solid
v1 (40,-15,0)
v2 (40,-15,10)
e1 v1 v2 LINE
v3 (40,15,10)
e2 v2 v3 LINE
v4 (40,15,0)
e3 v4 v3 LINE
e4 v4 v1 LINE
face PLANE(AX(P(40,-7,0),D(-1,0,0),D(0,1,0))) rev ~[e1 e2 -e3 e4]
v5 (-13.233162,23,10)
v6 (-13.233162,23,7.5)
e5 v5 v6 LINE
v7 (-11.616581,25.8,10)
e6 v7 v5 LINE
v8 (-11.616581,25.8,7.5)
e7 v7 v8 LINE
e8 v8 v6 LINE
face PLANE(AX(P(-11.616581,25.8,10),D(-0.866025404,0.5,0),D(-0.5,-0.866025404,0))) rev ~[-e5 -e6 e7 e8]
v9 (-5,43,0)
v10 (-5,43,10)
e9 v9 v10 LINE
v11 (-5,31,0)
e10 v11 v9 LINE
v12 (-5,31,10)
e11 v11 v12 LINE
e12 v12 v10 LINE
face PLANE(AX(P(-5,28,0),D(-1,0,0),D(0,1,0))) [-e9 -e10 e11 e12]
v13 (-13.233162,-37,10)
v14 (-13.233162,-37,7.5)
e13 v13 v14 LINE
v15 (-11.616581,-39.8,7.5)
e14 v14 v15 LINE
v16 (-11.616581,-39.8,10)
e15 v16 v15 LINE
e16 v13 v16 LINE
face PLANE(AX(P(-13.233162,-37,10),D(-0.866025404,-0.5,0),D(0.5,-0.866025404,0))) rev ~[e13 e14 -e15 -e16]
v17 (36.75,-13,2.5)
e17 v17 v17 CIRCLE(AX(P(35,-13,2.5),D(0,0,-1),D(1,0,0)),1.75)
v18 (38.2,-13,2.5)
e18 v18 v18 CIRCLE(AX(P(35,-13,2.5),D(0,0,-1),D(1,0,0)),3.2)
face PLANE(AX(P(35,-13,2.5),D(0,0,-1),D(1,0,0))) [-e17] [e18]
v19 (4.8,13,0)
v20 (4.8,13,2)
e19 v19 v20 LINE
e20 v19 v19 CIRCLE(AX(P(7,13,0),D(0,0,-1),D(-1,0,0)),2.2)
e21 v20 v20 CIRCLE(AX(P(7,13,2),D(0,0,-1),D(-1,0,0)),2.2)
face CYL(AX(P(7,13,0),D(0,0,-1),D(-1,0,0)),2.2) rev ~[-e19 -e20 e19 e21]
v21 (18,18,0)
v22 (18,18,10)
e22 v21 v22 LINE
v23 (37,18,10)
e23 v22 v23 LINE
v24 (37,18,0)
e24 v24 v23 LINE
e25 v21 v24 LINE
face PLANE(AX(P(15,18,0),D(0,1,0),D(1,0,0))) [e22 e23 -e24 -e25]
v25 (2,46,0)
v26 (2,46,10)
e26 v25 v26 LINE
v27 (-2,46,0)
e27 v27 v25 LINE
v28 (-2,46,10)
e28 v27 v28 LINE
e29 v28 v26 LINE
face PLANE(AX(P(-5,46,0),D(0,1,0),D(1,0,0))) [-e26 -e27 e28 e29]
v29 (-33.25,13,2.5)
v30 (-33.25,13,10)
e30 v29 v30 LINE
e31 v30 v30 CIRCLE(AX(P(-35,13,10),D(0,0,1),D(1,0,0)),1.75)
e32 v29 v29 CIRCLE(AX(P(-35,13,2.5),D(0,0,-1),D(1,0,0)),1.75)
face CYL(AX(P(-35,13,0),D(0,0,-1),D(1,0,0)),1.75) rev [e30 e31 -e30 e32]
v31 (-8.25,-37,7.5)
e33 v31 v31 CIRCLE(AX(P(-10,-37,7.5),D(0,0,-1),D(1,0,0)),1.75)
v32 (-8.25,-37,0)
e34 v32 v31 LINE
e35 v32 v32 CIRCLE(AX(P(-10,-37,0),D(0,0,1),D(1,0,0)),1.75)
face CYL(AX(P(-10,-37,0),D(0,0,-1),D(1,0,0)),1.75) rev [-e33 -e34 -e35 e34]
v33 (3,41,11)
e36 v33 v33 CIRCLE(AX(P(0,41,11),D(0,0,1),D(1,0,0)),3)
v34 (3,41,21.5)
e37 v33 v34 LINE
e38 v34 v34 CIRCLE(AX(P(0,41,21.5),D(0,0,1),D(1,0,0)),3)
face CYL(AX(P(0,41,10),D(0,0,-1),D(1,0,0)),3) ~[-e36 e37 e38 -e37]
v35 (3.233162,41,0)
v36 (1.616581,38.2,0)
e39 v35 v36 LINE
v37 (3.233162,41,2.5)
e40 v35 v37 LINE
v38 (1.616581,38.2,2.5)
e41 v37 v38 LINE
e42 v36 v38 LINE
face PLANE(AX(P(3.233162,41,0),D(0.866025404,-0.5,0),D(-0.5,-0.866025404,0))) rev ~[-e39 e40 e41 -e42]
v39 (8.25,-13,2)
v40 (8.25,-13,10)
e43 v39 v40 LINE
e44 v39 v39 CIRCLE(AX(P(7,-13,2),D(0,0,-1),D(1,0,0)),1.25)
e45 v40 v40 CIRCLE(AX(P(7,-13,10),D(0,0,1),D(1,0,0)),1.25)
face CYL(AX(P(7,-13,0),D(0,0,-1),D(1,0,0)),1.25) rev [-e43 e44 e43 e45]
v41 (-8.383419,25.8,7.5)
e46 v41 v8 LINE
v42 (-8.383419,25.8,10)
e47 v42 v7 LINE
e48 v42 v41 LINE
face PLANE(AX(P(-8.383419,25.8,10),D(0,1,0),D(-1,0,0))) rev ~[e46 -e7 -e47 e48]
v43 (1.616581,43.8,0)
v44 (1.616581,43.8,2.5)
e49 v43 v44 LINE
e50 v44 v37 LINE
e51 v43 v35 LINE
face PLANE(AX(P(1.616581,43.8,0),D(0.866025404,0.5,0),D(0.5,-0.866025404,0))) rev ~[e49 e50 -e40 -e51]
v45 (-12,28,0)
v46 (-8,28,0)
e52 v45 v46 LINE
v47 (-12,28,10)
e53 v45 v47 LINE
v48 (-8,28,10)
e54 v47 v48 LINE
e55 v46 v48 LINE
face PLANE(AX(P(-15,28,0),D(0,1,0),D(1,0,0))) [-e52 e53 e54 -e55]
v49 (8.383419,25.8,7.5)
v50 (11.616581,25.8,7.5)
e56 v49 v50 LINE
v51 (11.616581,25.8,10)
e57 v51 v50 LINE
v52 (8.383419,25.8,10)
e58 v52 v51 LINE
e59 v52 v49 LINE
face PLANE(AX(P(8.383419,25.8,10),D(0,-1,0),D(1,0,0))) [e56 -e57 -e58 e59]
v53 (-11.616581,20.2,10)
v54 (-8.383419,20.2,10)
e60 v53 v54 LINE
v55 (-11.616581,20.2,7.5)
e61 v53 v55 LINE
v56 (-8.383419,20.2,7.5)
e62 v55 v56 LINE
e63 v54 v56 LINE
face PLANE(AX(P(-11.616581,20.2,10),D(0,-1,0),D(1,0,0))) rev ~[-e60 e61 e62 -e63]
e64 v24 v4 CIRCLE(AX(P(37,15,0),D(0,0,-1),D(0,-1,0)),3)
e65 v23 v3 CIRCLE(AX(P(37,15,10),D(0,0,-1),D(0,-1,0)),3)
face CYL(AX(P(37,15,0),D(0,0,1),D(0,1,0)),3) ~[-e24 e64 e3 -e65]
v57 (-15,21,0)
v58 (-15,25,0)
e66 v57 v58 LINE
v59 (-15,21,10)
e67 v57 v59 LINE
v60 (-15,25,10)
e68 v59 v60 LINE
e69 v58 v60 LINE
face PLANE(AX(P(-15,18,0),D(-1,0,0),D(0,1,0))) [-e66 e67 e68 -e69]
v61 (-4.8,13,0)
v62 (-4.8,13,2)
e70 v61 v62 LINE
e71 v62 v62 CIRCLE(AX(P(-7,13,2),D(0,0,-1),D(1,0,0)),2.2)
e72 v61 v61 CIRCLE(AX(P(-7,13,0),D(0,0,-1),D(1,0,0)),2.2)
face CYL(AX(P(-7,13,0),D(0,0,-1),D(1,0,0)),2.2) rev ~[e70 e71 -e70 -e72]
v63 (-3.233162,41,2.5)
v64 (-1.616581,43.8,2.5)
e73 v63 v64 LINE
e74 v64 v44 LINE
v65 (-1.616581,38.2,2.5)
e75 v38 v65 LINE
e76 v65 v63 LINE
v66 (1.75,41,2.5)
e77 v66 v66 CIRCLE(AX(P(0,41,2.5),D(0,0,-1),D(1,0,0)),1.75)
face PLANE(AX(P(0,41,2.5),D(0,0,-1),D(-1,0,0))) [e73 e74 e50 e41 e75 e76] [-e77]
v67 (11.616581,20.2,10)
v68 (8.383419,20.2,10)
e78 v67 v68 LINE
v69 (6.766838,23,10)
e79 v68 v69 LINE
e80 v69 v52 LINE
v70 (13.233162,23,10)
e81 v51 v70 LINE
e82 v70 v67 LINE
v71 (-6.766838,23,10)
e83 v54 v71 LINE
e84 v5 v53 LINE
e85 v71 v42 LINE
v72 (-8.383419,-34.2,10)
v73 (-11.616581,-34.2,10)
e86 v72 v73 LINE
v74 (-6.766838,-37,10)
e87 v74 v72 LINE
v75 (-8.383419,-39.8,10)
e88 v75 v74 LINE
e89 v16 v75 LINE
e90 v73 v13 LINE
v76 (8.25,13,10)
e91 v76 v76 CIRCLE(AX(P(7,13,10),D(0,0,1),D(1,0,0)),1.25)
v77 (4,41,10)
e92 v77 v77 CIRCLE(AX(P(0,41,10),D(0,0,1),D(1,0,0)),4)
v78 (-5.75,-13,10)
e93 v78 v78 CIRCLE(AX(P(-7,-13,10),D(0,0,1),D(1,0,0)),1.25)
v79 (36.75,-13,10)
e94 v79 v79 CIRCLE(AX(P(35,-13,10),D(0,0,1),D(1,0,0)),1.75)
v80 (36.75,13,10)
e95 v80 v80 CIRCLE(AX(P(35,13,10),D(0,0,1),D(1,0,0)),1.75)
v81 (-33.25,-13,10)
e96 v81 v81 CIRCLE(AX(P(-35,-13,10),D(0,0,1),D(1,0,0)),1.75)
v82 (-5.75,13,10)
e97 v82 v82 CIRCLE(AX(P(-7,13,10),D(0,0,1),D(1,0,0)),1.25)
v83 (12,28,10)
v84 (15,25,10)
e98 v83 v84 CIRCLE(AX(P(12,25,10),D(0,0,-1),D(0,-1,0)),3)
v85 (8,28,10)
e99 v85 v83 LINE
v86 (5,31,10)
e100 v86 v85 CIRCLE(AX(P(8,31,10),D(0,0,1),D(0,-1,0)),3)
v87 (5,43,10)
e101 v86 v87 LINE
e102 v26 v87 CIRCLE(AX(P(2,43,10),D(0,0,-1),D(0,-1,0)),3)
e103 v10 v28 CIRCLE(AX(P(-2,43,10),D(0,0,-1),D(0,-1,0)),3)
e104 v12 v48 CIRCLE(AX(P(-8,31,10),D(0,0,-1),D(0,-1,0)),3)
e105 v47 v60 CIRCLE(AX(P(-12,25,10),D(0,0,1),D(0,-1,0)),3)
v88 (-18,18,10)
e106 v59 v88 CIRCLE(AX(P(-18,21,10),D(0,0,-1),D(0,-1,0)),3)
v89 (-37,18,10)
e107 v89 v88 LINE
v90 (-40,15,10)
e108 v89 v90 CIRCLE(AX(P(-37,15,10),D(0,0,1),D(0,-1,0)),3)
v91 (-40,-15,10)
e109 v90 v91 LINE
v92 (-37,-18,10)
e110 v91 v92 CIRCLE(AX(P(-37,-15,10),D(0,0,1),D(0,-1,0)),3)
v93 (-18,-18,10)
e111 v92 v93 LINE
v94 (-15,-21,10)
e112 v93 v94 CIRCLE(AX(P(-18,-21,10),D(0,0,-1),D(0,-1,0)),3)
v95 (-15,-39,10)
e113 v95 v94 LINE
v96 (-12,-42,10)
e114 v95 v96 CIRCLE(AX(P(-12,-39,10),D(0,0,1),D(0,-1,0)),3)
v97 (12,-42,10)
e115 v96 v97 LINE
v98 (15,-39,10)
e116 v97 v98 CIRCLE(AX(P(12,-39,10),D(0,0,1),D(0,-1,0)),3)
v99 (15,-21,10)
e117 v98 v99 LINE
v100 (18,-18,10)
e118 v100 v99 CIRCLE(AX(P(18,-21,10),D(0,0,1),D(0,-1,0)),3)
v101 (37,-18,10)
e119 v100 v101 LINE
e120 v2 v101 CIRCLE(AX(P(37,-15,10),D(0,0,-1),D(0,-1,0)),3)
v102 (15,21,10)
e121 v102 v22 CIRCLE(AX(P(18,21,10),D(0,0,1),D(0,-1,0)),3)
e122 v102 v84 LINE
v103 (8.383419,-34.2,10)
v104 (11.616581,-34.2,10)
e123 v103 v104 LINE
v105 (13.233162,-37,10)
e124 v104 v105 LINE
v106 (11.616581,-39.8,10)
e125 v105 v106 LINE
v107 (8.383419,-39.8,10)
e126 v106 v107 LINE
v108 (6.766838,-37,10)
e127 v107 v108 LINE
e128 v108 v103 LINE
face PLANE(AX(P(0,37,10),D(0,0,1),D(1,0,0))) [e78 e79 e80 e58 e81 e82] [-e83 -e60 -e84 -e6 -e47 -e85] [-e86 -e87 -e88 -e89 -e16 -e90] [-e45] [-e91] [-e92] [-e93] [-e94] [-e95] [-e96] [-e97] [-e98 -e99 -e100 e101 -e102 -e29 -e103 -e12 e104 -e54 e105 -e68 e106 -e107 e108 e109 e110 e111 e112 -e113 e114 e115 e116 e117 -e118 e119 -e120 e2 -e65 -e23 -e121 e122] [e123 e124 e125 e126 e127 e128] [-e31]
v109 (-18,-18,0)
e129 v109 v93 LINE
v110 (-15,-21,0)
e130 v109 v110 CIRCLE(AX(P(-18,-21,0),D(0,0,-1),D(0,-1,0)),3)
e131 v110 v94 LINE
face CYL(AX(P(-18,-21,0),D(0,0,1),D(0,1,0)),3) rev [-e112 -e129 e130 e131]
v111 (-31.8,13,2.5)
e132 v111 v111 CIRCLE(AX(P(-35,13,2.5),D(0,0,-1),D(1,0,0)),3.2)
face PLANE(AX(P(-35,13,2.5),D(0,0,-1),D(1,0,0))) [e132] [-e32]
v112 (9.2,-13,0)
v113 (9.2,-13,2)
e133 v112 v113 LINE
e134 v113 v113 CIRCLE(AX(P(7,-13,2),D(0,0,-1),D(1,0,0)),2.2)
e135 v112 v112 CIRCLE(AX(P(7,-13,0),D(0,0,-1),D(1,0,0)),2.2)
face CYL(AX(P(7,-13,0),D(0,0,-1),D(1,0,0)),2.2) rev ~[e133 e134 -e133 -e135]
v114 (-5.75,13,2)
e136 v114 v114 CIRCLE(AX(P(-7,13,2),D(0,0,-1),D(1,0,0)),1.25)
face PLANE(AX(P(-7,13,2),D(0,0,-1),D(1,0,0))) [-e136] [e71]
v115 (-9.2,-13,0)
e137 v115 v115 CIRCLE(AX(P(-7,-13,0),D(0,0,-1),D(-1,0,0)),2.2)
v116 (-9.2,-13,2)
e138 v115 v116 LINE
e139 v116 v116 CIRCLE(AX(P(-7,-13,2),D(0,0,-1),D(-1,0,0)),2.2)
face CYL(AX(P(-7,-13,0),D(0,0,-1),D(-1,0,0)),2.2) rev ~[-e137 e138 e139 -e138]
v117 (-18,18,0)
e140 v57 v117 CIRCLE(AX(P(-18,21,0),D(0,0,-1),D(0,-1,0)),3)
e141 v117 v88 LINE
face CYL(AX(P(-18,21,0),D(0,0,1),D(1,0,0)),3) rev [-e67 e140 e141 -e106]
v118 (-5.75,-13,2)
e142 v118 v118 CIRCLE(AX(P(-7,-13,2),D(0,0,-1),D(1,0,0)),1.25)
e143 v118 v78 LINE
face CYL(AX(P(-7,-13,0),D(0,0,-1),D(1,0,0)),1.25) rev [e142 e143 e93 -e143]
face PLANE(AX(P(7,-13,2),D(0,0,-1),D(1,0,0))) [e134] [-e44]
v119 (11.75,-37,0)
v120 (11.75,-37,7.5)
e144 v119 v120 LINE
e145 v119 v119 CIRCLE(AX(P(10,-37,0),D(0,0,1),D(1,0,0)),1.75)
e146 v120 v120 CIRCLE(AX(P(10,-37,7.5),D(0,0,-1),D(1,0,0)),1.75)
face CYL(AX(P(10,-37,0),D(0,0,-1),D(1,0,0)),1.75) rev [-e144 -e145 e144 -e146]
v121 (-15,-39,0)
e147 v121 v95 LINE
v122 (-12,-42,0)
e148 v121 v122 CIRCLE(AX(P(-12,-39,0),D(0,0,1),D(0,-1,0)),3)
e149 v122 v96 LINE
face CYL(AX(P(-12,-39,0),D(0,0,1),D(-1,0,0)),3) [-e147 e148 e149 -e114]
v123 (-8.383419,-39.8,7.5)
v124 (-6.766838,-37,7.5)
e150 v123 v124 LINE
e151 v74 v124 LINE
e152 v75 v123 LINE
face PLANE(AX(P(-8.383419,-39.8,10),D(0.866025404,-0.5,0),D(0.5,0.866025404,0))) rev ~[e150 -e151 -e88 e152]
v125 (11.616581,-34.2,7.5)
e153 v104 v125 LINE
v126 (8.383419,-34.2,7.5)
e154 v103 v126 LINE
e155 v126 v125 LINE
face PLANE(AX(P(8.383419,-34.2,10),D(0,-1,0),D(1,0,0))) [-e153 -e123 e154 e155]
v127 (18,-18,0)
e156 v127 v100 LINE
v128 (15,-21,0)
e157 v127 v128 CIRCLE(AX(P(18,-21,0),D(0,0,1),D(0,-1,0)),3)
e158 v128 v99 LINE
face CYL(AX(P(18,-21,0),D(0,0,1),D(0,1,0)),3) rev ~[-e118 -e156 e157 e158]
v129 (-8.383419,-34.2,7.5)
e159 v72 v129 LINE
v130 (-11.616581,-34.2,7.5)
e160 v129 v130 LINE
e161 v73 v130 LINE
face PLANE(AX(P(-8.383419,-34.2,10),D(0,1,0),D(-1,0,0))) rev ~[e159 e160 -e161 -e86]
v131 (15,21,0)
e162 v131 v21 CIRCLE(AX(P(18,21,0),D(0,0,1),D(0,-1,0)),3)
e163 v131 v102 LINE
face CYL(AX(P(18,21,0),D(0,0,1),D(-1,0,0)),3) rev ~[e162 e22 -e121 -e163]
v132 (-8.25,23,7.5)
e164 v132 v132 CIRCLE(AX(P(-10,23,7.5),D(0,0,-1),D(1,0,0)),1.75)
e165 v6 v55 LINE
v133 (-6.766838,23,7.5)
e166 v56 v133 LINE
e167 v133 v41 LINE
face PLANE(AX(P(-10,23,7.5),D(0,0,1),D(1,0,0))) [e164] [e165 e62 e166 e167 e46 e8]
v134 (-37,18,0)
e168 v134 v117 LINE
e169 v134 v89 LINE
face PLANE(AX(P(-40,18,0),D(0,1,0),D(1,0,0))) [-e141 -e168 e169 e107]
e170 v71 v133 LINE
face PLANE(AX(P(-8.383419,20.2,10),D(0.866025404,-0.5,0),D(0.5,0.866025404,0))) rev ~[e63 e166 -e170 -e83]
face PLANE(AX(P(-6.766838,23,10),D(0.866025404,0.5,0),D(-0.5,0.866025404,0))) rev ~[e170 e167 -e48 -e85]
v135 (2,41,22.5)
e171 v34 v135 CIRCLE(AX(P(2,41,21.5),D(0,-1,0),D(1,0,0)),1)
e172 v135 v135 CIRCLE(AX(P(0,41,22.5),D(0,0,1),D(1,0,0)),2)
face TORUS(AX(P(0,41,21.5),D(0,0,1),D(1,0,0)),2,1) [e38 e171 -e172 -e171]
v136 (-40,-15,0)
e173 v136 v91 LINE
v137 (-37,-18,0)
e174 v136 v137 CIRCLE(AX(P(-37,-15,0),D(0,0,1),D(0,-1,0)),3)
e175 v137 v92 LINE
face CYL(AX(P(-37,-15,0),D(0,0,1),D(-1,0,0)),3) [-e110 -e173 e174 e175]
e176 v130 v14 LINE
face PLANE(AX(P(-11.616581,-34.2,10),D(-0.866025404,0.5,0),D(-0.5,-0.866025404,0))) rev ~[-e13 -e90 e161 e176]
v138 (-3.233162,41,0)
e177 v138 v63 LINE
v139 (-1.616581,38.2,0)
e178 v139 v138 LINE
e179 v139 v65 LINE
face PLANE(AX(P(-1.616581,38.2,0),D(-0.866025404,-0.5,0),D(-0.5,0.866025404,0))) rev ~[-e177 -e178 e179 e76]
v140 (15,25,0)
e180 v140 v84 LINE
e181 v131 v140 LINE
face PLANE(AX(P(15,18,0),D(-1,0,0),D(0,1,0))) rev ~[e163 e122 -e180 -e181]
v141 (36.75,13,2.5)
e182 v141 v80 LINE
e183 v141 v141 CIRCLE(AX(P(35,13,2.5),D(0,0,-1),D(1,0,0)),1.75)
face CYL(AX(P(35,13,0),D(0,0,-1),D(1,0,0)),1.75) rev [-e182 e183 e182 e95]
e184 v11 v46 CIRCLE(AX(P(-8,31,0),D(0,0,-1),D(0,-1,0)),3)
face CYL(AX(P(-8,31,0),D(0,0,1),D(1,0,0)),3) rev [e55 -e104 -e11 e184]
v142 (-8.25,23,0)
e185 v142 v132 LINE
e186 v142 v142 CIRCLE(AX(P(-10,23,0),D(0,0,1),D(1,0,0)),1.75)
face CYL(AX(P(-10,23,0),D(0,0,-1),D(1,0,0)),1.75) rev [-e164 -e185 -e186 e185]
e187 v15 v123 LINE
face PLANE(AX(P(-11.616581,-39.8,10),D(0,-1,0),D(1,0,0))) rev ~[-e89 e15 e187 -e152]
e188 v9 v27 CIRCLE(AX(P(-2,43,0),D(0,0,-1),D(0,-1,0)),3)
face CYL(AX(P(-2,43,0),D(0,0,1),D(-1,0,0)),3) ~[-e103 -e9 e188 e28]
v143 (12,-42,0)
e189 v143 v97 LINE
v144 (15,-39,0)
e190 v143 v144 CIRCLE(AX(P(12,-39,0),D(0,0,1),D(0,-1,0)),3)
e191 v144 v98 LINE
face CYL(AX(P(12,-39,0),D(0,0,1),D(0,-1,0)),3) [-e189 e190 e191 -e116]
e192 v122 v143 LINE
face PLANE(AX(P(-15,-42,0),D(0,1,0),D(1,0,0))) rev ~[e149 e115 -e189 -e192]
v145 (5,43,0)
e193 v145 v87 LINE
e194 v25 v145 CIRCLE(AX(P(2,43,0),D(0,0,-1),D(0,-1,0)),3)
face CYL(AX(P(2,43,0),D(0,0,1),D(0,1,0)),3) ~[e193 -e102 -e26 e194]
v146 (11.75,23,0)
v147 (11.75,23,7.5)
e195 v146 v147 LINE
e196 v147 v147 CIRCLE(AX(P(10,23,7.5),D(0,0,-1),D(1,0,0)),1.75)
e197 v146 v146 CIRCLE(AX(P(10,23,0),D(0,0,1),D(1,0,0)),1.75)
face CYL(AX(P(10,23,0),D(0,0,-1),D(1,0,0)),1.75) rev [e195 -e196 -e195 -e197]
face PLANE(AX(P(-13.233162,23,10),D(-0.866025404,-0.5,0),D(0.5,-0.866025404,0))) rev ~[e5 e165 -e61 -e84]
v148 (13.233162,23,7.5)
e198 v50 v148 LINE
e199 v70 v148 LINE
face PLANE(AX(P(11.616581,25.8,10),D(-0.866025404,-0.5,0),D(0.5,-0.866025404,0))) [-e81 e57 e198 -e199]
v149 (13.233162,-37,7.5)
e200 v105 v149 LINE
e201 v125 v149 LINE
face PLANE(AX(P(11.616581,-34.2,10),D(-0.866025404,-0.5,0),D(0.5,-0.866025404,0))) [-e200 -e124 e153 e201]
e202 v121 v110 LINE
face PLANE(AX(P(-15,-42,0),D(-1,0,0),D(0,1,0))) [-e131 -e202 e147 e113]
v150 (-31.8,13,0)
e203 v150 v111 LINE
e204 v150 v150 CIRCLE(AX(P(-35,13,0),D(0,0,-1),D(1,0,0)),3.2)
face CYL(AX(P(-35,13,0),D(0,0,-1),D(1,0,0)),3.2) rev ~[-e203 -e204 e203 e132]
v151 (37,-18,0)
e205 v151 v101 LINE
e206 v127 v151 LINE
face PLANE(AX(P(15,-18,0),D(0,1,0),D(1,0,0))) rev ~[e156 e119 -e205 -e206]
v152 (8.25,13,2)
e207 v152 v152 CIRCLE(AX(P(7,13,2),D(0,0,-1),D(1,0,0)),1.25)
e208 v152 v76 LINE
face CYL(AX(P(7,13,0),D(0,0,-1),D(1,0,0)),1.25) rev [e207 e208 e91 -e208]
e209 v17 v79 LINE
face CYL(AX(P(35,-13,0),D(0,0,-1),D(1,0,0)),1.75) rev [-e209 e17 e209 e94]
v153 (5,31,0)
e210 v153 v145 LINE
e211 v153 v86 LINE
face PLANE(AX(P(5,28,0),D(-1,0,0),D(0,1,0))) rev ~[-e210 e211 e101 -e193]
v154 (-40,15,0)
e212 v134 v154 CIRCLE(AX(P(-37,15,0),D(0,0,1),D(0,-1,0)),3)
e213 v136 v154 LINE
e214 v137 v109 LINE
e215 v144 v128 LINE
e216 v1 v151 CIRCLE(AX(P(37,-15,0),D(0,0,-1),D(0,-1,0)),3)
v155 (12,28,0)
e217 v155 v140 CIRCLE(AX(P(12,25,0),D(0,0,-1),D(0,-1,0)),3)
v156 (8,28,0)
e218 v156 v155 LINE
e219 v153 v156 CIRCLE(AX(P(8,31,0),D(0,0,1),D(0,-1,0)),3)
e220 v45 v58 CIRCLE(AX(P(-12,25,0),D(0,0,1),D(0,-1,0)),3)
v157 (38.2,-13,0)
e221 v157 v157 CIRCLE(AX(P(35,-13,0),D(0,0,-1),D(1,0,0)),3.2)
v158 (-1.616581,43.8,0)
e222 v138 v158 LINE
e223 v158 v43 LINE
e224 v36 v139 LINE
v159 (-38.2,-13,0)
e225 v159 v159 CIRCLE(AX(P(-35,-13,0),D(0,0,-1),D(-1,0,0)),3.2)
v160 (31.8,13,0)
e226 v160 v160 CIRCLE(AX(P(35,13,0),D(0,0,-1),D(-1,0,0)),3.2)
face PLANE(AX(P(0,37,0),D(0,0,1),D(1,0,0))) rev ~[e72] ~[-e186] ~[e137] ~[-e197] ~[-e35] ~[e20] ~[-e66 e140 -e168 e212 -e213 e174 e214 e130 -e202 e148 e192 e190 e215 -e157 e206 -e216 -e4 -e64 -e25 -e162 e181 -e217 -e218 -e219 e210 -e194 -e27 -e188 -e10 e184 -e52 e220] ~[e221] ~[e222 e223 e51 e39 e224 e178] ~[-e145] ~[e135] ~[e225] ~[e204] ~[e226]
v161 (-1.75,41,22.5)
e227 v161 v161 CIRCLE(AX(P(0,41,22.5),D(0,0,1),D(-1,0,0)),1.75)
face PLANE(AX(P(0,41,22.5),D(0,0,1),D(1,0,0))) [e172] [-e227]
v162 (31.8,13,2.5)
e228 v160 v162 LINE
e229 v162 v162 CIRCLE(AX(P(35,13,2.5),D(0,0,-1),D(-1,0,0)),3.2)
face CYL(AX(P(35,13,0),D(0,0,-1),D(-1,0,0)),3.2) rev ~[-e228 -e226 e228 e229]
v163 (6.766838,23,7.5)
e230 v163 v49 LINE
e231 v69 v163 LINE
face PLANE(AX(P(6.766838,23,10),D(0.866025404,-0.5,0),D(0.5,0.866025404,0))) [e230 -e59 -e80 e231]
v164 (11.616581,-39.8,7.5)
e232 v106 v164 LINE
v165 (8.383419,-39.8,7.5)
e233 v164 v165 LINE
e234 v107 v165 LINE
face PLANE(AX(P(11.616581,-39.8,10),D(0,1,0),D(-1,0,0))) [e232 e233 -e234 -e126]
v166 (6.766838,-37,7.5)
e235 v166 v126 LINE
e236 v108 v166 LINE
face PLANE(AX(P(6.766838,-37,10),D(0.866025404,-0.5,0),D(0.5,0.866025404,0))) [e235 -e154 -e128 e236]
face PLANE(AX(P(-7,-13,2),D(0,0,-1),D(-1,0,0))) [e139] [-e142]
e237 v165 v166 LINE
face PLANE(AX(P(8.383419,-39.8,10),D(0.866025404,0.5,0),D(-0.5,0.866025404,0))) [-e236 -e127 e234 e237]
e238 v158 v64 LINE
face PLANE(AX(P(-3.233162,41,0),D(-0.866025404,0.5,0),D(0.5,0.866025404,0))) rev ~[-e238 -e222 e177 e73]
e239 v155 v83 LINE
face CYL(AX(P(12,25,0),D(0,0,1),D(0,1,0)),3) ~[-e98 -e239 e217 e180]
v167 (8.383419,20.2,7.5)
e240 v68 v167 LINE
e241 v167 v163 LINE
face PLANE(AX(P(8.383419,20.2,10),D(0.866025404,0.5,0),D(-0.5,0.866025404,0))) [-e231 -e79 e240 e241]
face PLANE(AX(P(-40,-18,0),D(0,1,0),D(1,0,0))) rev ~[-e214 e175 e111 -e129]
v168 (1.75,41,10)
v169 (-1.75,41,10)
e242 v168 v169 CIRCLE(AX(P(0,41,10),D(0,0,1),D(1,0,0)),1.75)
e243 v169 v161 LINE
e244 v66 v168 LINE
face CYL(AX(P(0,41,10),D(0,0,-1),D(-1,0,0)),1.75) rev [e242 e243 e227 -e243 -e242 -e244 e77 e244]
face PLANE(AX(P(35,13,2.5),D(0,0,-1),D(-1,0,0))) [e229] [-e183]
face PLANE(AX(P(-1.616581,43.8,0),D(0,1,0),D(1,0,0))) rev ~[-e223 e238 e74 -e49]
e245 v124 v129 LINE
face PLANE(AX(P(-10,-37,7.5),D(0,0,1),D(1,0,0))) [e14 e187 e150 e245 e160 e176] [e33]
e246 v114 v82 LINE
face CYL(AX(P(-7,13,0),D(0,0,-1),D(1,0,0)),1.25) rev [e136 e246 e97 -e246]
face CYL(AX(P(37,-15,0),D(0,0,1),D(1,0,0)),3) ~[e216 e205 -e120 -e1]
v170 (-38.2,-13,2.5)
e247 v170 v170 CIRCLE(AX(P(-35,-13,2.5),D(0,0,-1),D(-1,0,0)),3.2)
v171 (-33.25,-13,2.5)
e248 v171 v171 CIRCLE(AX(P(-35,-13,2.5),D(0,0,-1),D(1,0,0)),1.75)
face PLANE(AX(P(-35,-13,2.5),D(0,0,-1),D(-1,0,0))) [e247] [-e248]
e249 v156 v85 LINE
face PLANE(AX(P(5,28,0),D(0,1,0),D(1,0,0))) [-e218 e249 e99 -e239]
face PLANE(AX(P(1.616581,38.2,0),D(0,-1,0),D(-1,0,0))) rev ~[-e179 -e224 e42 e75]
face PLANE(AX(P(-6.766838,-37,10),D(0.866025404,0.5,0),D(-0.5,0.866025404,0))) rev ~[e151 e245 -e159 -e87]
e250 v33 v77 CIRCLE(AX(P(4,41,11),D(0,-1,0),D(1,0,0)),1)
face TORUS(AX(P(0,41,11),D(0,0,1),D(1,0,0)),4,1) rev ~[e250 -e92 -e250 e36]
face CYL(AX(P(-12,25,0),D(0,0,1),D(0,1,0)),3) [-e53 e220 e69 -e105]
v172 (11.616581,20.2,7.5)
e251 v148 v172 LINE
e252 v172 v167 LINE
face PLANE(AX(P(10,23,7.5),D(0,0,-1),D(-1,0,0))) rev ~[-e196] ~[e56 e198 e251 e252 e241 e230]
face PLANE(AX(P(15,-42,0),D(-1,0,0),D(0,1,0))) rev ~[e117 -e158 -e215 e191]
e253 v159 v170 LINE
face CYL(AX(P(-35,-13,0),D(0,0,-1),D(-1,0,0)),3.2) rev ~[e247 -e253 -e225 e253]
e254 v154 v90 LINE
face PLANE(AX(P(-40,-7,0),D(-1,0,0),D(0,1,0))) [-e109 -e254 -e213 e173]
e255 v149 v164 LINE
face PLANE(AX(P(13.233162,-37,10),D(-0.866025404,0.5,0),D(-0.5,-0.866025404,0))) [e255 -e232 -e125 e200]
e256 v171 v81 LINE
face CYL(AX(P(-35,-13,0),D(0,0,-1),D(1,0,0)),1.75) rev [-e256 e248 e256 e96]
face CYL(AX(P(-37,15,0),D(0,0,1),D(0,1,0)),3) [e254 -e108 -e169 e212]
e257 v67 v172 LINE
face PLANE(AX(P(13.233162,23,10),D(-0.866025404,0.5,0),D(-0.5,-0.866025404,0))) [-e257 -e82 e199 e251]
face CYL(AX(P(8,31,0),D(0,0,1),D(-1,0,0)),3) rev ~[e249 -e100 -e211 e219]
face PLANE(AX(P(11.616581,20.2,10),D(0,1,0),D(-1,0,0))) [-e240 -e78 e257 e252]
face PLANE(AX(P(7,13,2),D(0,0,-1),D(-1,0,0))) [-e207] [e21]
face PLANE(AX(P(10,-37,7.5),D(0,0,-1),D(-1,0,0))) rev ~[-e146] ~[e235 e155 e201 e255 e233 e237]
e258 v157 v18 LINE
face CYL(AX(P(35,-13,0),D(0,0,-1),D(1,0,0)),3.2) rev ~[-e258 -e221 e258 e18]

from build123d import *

# Parameters (mm, degrees)
SKETCH_2_W          = 25
SKETCH_2_H          = 25
SKETCH_2_R          = 1.75
SKETCH_2_H_2        = 11
SKETCH_2_W_2        = 30
SKETCH_2_R_2        = 1.25
SKETCH_2_H_3        = 24
SKETCH_2_W_3        = 10
SKETCH_2_H_4        = 10
SKETCH_2_H_5        = 18
EXTRUDE_1_DEPTH     = 10
SKETCH_4_R          = 3.2
CUT_EXTRUDE_2_DEPTH = 2.5
SKETCH_5_R          = 2.2
CUT_EXTRUDE_3_DEPTH = 2
FILLET_2_R          = 3
CUT_EXTRUDE_4_DEPTH = 2.5
CUT_EXTRUDE_5_DEPTH = 2.5
SKETCH_8_R          = 3
SKETCH_8_R_2        = 1.75
EXTRUDE_2_DEPTH     = 12.5
FILLET_3_R          = 1


with BuildPart() as part:
    # ｽｹｯﾁ2 → ﾎﾞｽ - 押し出し1 (new body)
    # profile 1 of 11: a face of its own
    with BuildSketch(Plane.XY):
        with Locations((-27.5, 5.5)):
            Rectangle(SKETCH_2_W, SKETCH_2_H)
        with Locations((-35, 13)):
            Circle(SKETCH_2_R, mode=Mode.SUBTRACT)
    # profile 2 of 11: a face of its own
    with BuildSketch(Plane.XY):
        with Locations((-27.5, -12.5)):
            Rectangle(SKETCH_2_W, SKETCH_2_H_2)
        with Locations((-35, -13)):
            Circle(SKETCH_2_R, mode=Mode.SUBTRACT)
    # profile 3 of 11: a face of its own
    with BuildSketch(Plane.XY):
        with Locations((0, -12.5)):
            Rectangle(SKETCH_2_W_2, SKETCH_2_H_2)
        with Locations((-7, -13)):
            Circle(SKETCH_2_R_2, mode=Mode.SUBTRACT)
        with Locations((7, -13)):
            Circle(SKETCH_2_R_2, mode=Mode.SUBTRACT)
    # profile 4 of 11: a face of its own
    with BuildSketch(Plane.XY):
        Polygon((15, 18), (5, 18), (-5, 18), (-15, 18), (-15, -7), (15, -7), align=None)
        with Locations((-7, 13)):
            Circle(SKETCH_2_R_2, mode=Mode.SUBTRACT)
        with Locations((7, 13)):
            Circle(SKETCH_2_R_2, mode=Mode.SUBTRACT)
    # profile 5 of 11: a face of its own
    with BuildSketch(Plane.XY):
        with Locations((27.5, 5.5)):
            Rectangle(SKETCH_2_W, SKETCH_2_H)
        with Locations((35, 13)):
            Circle(SKETCH_2_R, mode=Mode.SUBTRACT)
    # profile 6 of 11: a face of its own
    with BuildSketch(Plane.XY):
        with Locations((27.5, -12.5)):
            Rectangle(SKETCH_2_W, SKETCH_2_H_2)
        with Locations((35, -13)):
            Circle(SKETCH_2_R, mode=Mode.SUBTRACT)
    # profile 7 of 11: a face of its own
    with BuildSketch(Plane.XY):
        with Locations((0, -30)):
            Rectangle(SKETCH_2_W_2, SKETCH_2_H_3)
        with Locations((-10, -37)):
            Circle(SKETCH_2_R, mode=Mode.SUBTRACT)
        with Locations((10, -37)):
            Circle(SKETCH_2_R, mode=Mode.SUBTRACT)
    # profile 8 of 11: a face of its own
    with BuildSketch(Plane.XY):
        with Locations((-10, 23)):
            Rectangle(SKETCH_2_W_3, SKETCH_2_H_4)
        with Locations((-10, 23)):
            Circle(SKETCH_2_R, mode=Mode.SUBTRACT)
    # profile 9 of 11: a face of its own
    with BuildSketch(Plane.XY):
        with Locations((0, 23)):
            Rectangle(SKETCH_2_W_3, SKETCH_2_H_4)
    # profile 10 of 11: a face of its own
    with BuildSketch(Plane.XY):
        with Locations((10, 23)):
            Rectangle(SKETCH_2_W_3, SKETCH_2_H_4)
        with Locations((10, 23)):
            Circle(SKETCH_2_R, mode=Mode.SUBTRACT)
    # profile 11 of 11: a face of its own
    with BuildSketch(Plane.XY):
        with Locations((0, 37)):
            Rectangle(SKETCH_2_W_3, SKETCH_2_H_5)
        with Locations((0, 41)):
            Circle(SKETCH_2_R, mode=Mode.SUBTRACT)
    extrude(amount=EXTRUDE_1_DEPTH)

    # ｽｹｯﾁ4 → ｶｯﾄ - 押し出し2 (cut)
    with BuildSketch(Plane(origin=(0, 0, 0), x_dir=(-1, 0, 0), z_dir=(0, 0, -1))):
        with Locations((-35, 13)):
            Circle(SKETCH_4_R)
        with Locations(Location((35, 13, 0), (0, 0, 180))):
            Circle(SKETCH_4_R)
        with Locations((35, -13)):
            Circle(SKETCH_4_R)
        with Locations(Location((-35, -13, 0), (0, 0, 180))):
            Circle(SKETCH_4_R)
    extrude(amount=-CUT_EXTRUDE_2_DEPTH, mode=Mode.SUBTRACT)

    # ｽｹｯﾁ5 → ｶｯﾄ - 押し出し3 (cut)
    with BuildSketch(Plane(origin=(0, 0, 0), x_dir=(-1, 0, 0), z_dir=(0, 0, -1))):
        with Locations((-7, 13)):
            Circle(SKETCH_5_R)
        with Locations(Location((7, 13, 0), (0, 0, 180))):
            Circle(SKETCH_5_R)
        with Locations((7, -13)):
            Circle(SKETCH_5_R)
        with Locations(Location((-7, -13, 0), (0, 0, 180))):
            Circle(SKETCH_5_R)
    extrude(amount=-CUT_EXTRUDE_3_DEPTH, mode=Mode.SUBTRACT)

    # ﾌｨﾚｯﾄ2
    fillet_2_edges = [part.edges().sort_by_distance(p)[0] for p in [
        (15, -18, 5),
        (15, -42, 5),
        (-15, -42, 5),
        (-15, -18, 5),
        (-40, -18, 5),
        (-40, 18, 5),
        (-15, 18, 5),
        (-15, 28, 5),
        (-5, 28, 5),
        (-5, 46, 5),
        (5, 46, 5),
        (5, 28, 5),
        (15, 28, 5),
        (15, 18, 5),
        (40, 18, 5),
        (40, -18, 5),
    ]]
    fillet(fillet_2_edges, radius=FILLET_2_R)

    # ｽｹｯﾁ6 → ｶｯﾄ - 押し出し4 (cut)
    with BuildSketch(Plane(origin=(0, 0, 0), x_dir=(-1, 0, 0), z_dir=(0, 0, -1))):
        Polygon((3.233161507, 41), (1.616580754, 43.8), (-1.616580754, 43.8), (-3.233161507, 41), (-1.616580754, 38.2), (1.616580754, 38.2), align=None)
    extrude(amount=-CUT_EXTRUDE_4_DEPTH, mode=Mode.SUBTRACT)

    # ｽｹｯﾁ7 → ｶｯﾄ - 押し出し5 (cut)
    with BuildSketch(Plane.XY.offset(10)):
        Polygon((-6.766838493, 23), (-8.383419246, 25.8), (-11.616580754, 25.8), (-13.233161507, 23), (-11.616580754, 20.2), (-8.383419246, 20.2), align=None)
        Polygon((8.383419246, 20.2), (6.766838493, 23), (8.383419246, 25.8), (11.616580754, 25.8), (13.233161507, 23), (11.616580754, 20.2), align=None)
        Polygon((8.383419246, -39.8), (6.766838493, -37), (8.383419246, -34.2), (11.616580754, -34.2), (13.233161507, -37), (11.616580754, -39.8), align=None)
        Polygon((-6.766838493, -37), (-8.383419246, -34.2), (-11.616580754, -34.2), (-13.233161507, -37), (-11.616580754, -39.8), (-8.383419246, -39.8), align=None)
    extrude(amount=-CUT_EXTRUDE_5_DEPTH, mode=Mode.SUBTRACT)

    # ｽｹｯﾁ8 → ﾎﾞｽ - 押し出し2 (add)
    with BuildSketch(Plane.XY.offset(10)):
        with Locations((0, 41)):
            Circle(SKETCH_8_R)
        with Locations(Location((0, 41, 0), (0, 0, 180))):
            Circle(SKETCH_8_R_2, mode=Mode.SUBTRACT)
    extrude(amount=EXTRUDE_2_DEPTH)

    # ﾌｨﾚｯﾄ3
    fillet_3_edges = [part.edges().sort_by_distance(p)[0] for p in [
        (-3, 41, 22.5),
        (-3, 41, 10),
    ]]
    fillet(fillet_3_edges, radius=FILLET_3_R)


solid = part.part
